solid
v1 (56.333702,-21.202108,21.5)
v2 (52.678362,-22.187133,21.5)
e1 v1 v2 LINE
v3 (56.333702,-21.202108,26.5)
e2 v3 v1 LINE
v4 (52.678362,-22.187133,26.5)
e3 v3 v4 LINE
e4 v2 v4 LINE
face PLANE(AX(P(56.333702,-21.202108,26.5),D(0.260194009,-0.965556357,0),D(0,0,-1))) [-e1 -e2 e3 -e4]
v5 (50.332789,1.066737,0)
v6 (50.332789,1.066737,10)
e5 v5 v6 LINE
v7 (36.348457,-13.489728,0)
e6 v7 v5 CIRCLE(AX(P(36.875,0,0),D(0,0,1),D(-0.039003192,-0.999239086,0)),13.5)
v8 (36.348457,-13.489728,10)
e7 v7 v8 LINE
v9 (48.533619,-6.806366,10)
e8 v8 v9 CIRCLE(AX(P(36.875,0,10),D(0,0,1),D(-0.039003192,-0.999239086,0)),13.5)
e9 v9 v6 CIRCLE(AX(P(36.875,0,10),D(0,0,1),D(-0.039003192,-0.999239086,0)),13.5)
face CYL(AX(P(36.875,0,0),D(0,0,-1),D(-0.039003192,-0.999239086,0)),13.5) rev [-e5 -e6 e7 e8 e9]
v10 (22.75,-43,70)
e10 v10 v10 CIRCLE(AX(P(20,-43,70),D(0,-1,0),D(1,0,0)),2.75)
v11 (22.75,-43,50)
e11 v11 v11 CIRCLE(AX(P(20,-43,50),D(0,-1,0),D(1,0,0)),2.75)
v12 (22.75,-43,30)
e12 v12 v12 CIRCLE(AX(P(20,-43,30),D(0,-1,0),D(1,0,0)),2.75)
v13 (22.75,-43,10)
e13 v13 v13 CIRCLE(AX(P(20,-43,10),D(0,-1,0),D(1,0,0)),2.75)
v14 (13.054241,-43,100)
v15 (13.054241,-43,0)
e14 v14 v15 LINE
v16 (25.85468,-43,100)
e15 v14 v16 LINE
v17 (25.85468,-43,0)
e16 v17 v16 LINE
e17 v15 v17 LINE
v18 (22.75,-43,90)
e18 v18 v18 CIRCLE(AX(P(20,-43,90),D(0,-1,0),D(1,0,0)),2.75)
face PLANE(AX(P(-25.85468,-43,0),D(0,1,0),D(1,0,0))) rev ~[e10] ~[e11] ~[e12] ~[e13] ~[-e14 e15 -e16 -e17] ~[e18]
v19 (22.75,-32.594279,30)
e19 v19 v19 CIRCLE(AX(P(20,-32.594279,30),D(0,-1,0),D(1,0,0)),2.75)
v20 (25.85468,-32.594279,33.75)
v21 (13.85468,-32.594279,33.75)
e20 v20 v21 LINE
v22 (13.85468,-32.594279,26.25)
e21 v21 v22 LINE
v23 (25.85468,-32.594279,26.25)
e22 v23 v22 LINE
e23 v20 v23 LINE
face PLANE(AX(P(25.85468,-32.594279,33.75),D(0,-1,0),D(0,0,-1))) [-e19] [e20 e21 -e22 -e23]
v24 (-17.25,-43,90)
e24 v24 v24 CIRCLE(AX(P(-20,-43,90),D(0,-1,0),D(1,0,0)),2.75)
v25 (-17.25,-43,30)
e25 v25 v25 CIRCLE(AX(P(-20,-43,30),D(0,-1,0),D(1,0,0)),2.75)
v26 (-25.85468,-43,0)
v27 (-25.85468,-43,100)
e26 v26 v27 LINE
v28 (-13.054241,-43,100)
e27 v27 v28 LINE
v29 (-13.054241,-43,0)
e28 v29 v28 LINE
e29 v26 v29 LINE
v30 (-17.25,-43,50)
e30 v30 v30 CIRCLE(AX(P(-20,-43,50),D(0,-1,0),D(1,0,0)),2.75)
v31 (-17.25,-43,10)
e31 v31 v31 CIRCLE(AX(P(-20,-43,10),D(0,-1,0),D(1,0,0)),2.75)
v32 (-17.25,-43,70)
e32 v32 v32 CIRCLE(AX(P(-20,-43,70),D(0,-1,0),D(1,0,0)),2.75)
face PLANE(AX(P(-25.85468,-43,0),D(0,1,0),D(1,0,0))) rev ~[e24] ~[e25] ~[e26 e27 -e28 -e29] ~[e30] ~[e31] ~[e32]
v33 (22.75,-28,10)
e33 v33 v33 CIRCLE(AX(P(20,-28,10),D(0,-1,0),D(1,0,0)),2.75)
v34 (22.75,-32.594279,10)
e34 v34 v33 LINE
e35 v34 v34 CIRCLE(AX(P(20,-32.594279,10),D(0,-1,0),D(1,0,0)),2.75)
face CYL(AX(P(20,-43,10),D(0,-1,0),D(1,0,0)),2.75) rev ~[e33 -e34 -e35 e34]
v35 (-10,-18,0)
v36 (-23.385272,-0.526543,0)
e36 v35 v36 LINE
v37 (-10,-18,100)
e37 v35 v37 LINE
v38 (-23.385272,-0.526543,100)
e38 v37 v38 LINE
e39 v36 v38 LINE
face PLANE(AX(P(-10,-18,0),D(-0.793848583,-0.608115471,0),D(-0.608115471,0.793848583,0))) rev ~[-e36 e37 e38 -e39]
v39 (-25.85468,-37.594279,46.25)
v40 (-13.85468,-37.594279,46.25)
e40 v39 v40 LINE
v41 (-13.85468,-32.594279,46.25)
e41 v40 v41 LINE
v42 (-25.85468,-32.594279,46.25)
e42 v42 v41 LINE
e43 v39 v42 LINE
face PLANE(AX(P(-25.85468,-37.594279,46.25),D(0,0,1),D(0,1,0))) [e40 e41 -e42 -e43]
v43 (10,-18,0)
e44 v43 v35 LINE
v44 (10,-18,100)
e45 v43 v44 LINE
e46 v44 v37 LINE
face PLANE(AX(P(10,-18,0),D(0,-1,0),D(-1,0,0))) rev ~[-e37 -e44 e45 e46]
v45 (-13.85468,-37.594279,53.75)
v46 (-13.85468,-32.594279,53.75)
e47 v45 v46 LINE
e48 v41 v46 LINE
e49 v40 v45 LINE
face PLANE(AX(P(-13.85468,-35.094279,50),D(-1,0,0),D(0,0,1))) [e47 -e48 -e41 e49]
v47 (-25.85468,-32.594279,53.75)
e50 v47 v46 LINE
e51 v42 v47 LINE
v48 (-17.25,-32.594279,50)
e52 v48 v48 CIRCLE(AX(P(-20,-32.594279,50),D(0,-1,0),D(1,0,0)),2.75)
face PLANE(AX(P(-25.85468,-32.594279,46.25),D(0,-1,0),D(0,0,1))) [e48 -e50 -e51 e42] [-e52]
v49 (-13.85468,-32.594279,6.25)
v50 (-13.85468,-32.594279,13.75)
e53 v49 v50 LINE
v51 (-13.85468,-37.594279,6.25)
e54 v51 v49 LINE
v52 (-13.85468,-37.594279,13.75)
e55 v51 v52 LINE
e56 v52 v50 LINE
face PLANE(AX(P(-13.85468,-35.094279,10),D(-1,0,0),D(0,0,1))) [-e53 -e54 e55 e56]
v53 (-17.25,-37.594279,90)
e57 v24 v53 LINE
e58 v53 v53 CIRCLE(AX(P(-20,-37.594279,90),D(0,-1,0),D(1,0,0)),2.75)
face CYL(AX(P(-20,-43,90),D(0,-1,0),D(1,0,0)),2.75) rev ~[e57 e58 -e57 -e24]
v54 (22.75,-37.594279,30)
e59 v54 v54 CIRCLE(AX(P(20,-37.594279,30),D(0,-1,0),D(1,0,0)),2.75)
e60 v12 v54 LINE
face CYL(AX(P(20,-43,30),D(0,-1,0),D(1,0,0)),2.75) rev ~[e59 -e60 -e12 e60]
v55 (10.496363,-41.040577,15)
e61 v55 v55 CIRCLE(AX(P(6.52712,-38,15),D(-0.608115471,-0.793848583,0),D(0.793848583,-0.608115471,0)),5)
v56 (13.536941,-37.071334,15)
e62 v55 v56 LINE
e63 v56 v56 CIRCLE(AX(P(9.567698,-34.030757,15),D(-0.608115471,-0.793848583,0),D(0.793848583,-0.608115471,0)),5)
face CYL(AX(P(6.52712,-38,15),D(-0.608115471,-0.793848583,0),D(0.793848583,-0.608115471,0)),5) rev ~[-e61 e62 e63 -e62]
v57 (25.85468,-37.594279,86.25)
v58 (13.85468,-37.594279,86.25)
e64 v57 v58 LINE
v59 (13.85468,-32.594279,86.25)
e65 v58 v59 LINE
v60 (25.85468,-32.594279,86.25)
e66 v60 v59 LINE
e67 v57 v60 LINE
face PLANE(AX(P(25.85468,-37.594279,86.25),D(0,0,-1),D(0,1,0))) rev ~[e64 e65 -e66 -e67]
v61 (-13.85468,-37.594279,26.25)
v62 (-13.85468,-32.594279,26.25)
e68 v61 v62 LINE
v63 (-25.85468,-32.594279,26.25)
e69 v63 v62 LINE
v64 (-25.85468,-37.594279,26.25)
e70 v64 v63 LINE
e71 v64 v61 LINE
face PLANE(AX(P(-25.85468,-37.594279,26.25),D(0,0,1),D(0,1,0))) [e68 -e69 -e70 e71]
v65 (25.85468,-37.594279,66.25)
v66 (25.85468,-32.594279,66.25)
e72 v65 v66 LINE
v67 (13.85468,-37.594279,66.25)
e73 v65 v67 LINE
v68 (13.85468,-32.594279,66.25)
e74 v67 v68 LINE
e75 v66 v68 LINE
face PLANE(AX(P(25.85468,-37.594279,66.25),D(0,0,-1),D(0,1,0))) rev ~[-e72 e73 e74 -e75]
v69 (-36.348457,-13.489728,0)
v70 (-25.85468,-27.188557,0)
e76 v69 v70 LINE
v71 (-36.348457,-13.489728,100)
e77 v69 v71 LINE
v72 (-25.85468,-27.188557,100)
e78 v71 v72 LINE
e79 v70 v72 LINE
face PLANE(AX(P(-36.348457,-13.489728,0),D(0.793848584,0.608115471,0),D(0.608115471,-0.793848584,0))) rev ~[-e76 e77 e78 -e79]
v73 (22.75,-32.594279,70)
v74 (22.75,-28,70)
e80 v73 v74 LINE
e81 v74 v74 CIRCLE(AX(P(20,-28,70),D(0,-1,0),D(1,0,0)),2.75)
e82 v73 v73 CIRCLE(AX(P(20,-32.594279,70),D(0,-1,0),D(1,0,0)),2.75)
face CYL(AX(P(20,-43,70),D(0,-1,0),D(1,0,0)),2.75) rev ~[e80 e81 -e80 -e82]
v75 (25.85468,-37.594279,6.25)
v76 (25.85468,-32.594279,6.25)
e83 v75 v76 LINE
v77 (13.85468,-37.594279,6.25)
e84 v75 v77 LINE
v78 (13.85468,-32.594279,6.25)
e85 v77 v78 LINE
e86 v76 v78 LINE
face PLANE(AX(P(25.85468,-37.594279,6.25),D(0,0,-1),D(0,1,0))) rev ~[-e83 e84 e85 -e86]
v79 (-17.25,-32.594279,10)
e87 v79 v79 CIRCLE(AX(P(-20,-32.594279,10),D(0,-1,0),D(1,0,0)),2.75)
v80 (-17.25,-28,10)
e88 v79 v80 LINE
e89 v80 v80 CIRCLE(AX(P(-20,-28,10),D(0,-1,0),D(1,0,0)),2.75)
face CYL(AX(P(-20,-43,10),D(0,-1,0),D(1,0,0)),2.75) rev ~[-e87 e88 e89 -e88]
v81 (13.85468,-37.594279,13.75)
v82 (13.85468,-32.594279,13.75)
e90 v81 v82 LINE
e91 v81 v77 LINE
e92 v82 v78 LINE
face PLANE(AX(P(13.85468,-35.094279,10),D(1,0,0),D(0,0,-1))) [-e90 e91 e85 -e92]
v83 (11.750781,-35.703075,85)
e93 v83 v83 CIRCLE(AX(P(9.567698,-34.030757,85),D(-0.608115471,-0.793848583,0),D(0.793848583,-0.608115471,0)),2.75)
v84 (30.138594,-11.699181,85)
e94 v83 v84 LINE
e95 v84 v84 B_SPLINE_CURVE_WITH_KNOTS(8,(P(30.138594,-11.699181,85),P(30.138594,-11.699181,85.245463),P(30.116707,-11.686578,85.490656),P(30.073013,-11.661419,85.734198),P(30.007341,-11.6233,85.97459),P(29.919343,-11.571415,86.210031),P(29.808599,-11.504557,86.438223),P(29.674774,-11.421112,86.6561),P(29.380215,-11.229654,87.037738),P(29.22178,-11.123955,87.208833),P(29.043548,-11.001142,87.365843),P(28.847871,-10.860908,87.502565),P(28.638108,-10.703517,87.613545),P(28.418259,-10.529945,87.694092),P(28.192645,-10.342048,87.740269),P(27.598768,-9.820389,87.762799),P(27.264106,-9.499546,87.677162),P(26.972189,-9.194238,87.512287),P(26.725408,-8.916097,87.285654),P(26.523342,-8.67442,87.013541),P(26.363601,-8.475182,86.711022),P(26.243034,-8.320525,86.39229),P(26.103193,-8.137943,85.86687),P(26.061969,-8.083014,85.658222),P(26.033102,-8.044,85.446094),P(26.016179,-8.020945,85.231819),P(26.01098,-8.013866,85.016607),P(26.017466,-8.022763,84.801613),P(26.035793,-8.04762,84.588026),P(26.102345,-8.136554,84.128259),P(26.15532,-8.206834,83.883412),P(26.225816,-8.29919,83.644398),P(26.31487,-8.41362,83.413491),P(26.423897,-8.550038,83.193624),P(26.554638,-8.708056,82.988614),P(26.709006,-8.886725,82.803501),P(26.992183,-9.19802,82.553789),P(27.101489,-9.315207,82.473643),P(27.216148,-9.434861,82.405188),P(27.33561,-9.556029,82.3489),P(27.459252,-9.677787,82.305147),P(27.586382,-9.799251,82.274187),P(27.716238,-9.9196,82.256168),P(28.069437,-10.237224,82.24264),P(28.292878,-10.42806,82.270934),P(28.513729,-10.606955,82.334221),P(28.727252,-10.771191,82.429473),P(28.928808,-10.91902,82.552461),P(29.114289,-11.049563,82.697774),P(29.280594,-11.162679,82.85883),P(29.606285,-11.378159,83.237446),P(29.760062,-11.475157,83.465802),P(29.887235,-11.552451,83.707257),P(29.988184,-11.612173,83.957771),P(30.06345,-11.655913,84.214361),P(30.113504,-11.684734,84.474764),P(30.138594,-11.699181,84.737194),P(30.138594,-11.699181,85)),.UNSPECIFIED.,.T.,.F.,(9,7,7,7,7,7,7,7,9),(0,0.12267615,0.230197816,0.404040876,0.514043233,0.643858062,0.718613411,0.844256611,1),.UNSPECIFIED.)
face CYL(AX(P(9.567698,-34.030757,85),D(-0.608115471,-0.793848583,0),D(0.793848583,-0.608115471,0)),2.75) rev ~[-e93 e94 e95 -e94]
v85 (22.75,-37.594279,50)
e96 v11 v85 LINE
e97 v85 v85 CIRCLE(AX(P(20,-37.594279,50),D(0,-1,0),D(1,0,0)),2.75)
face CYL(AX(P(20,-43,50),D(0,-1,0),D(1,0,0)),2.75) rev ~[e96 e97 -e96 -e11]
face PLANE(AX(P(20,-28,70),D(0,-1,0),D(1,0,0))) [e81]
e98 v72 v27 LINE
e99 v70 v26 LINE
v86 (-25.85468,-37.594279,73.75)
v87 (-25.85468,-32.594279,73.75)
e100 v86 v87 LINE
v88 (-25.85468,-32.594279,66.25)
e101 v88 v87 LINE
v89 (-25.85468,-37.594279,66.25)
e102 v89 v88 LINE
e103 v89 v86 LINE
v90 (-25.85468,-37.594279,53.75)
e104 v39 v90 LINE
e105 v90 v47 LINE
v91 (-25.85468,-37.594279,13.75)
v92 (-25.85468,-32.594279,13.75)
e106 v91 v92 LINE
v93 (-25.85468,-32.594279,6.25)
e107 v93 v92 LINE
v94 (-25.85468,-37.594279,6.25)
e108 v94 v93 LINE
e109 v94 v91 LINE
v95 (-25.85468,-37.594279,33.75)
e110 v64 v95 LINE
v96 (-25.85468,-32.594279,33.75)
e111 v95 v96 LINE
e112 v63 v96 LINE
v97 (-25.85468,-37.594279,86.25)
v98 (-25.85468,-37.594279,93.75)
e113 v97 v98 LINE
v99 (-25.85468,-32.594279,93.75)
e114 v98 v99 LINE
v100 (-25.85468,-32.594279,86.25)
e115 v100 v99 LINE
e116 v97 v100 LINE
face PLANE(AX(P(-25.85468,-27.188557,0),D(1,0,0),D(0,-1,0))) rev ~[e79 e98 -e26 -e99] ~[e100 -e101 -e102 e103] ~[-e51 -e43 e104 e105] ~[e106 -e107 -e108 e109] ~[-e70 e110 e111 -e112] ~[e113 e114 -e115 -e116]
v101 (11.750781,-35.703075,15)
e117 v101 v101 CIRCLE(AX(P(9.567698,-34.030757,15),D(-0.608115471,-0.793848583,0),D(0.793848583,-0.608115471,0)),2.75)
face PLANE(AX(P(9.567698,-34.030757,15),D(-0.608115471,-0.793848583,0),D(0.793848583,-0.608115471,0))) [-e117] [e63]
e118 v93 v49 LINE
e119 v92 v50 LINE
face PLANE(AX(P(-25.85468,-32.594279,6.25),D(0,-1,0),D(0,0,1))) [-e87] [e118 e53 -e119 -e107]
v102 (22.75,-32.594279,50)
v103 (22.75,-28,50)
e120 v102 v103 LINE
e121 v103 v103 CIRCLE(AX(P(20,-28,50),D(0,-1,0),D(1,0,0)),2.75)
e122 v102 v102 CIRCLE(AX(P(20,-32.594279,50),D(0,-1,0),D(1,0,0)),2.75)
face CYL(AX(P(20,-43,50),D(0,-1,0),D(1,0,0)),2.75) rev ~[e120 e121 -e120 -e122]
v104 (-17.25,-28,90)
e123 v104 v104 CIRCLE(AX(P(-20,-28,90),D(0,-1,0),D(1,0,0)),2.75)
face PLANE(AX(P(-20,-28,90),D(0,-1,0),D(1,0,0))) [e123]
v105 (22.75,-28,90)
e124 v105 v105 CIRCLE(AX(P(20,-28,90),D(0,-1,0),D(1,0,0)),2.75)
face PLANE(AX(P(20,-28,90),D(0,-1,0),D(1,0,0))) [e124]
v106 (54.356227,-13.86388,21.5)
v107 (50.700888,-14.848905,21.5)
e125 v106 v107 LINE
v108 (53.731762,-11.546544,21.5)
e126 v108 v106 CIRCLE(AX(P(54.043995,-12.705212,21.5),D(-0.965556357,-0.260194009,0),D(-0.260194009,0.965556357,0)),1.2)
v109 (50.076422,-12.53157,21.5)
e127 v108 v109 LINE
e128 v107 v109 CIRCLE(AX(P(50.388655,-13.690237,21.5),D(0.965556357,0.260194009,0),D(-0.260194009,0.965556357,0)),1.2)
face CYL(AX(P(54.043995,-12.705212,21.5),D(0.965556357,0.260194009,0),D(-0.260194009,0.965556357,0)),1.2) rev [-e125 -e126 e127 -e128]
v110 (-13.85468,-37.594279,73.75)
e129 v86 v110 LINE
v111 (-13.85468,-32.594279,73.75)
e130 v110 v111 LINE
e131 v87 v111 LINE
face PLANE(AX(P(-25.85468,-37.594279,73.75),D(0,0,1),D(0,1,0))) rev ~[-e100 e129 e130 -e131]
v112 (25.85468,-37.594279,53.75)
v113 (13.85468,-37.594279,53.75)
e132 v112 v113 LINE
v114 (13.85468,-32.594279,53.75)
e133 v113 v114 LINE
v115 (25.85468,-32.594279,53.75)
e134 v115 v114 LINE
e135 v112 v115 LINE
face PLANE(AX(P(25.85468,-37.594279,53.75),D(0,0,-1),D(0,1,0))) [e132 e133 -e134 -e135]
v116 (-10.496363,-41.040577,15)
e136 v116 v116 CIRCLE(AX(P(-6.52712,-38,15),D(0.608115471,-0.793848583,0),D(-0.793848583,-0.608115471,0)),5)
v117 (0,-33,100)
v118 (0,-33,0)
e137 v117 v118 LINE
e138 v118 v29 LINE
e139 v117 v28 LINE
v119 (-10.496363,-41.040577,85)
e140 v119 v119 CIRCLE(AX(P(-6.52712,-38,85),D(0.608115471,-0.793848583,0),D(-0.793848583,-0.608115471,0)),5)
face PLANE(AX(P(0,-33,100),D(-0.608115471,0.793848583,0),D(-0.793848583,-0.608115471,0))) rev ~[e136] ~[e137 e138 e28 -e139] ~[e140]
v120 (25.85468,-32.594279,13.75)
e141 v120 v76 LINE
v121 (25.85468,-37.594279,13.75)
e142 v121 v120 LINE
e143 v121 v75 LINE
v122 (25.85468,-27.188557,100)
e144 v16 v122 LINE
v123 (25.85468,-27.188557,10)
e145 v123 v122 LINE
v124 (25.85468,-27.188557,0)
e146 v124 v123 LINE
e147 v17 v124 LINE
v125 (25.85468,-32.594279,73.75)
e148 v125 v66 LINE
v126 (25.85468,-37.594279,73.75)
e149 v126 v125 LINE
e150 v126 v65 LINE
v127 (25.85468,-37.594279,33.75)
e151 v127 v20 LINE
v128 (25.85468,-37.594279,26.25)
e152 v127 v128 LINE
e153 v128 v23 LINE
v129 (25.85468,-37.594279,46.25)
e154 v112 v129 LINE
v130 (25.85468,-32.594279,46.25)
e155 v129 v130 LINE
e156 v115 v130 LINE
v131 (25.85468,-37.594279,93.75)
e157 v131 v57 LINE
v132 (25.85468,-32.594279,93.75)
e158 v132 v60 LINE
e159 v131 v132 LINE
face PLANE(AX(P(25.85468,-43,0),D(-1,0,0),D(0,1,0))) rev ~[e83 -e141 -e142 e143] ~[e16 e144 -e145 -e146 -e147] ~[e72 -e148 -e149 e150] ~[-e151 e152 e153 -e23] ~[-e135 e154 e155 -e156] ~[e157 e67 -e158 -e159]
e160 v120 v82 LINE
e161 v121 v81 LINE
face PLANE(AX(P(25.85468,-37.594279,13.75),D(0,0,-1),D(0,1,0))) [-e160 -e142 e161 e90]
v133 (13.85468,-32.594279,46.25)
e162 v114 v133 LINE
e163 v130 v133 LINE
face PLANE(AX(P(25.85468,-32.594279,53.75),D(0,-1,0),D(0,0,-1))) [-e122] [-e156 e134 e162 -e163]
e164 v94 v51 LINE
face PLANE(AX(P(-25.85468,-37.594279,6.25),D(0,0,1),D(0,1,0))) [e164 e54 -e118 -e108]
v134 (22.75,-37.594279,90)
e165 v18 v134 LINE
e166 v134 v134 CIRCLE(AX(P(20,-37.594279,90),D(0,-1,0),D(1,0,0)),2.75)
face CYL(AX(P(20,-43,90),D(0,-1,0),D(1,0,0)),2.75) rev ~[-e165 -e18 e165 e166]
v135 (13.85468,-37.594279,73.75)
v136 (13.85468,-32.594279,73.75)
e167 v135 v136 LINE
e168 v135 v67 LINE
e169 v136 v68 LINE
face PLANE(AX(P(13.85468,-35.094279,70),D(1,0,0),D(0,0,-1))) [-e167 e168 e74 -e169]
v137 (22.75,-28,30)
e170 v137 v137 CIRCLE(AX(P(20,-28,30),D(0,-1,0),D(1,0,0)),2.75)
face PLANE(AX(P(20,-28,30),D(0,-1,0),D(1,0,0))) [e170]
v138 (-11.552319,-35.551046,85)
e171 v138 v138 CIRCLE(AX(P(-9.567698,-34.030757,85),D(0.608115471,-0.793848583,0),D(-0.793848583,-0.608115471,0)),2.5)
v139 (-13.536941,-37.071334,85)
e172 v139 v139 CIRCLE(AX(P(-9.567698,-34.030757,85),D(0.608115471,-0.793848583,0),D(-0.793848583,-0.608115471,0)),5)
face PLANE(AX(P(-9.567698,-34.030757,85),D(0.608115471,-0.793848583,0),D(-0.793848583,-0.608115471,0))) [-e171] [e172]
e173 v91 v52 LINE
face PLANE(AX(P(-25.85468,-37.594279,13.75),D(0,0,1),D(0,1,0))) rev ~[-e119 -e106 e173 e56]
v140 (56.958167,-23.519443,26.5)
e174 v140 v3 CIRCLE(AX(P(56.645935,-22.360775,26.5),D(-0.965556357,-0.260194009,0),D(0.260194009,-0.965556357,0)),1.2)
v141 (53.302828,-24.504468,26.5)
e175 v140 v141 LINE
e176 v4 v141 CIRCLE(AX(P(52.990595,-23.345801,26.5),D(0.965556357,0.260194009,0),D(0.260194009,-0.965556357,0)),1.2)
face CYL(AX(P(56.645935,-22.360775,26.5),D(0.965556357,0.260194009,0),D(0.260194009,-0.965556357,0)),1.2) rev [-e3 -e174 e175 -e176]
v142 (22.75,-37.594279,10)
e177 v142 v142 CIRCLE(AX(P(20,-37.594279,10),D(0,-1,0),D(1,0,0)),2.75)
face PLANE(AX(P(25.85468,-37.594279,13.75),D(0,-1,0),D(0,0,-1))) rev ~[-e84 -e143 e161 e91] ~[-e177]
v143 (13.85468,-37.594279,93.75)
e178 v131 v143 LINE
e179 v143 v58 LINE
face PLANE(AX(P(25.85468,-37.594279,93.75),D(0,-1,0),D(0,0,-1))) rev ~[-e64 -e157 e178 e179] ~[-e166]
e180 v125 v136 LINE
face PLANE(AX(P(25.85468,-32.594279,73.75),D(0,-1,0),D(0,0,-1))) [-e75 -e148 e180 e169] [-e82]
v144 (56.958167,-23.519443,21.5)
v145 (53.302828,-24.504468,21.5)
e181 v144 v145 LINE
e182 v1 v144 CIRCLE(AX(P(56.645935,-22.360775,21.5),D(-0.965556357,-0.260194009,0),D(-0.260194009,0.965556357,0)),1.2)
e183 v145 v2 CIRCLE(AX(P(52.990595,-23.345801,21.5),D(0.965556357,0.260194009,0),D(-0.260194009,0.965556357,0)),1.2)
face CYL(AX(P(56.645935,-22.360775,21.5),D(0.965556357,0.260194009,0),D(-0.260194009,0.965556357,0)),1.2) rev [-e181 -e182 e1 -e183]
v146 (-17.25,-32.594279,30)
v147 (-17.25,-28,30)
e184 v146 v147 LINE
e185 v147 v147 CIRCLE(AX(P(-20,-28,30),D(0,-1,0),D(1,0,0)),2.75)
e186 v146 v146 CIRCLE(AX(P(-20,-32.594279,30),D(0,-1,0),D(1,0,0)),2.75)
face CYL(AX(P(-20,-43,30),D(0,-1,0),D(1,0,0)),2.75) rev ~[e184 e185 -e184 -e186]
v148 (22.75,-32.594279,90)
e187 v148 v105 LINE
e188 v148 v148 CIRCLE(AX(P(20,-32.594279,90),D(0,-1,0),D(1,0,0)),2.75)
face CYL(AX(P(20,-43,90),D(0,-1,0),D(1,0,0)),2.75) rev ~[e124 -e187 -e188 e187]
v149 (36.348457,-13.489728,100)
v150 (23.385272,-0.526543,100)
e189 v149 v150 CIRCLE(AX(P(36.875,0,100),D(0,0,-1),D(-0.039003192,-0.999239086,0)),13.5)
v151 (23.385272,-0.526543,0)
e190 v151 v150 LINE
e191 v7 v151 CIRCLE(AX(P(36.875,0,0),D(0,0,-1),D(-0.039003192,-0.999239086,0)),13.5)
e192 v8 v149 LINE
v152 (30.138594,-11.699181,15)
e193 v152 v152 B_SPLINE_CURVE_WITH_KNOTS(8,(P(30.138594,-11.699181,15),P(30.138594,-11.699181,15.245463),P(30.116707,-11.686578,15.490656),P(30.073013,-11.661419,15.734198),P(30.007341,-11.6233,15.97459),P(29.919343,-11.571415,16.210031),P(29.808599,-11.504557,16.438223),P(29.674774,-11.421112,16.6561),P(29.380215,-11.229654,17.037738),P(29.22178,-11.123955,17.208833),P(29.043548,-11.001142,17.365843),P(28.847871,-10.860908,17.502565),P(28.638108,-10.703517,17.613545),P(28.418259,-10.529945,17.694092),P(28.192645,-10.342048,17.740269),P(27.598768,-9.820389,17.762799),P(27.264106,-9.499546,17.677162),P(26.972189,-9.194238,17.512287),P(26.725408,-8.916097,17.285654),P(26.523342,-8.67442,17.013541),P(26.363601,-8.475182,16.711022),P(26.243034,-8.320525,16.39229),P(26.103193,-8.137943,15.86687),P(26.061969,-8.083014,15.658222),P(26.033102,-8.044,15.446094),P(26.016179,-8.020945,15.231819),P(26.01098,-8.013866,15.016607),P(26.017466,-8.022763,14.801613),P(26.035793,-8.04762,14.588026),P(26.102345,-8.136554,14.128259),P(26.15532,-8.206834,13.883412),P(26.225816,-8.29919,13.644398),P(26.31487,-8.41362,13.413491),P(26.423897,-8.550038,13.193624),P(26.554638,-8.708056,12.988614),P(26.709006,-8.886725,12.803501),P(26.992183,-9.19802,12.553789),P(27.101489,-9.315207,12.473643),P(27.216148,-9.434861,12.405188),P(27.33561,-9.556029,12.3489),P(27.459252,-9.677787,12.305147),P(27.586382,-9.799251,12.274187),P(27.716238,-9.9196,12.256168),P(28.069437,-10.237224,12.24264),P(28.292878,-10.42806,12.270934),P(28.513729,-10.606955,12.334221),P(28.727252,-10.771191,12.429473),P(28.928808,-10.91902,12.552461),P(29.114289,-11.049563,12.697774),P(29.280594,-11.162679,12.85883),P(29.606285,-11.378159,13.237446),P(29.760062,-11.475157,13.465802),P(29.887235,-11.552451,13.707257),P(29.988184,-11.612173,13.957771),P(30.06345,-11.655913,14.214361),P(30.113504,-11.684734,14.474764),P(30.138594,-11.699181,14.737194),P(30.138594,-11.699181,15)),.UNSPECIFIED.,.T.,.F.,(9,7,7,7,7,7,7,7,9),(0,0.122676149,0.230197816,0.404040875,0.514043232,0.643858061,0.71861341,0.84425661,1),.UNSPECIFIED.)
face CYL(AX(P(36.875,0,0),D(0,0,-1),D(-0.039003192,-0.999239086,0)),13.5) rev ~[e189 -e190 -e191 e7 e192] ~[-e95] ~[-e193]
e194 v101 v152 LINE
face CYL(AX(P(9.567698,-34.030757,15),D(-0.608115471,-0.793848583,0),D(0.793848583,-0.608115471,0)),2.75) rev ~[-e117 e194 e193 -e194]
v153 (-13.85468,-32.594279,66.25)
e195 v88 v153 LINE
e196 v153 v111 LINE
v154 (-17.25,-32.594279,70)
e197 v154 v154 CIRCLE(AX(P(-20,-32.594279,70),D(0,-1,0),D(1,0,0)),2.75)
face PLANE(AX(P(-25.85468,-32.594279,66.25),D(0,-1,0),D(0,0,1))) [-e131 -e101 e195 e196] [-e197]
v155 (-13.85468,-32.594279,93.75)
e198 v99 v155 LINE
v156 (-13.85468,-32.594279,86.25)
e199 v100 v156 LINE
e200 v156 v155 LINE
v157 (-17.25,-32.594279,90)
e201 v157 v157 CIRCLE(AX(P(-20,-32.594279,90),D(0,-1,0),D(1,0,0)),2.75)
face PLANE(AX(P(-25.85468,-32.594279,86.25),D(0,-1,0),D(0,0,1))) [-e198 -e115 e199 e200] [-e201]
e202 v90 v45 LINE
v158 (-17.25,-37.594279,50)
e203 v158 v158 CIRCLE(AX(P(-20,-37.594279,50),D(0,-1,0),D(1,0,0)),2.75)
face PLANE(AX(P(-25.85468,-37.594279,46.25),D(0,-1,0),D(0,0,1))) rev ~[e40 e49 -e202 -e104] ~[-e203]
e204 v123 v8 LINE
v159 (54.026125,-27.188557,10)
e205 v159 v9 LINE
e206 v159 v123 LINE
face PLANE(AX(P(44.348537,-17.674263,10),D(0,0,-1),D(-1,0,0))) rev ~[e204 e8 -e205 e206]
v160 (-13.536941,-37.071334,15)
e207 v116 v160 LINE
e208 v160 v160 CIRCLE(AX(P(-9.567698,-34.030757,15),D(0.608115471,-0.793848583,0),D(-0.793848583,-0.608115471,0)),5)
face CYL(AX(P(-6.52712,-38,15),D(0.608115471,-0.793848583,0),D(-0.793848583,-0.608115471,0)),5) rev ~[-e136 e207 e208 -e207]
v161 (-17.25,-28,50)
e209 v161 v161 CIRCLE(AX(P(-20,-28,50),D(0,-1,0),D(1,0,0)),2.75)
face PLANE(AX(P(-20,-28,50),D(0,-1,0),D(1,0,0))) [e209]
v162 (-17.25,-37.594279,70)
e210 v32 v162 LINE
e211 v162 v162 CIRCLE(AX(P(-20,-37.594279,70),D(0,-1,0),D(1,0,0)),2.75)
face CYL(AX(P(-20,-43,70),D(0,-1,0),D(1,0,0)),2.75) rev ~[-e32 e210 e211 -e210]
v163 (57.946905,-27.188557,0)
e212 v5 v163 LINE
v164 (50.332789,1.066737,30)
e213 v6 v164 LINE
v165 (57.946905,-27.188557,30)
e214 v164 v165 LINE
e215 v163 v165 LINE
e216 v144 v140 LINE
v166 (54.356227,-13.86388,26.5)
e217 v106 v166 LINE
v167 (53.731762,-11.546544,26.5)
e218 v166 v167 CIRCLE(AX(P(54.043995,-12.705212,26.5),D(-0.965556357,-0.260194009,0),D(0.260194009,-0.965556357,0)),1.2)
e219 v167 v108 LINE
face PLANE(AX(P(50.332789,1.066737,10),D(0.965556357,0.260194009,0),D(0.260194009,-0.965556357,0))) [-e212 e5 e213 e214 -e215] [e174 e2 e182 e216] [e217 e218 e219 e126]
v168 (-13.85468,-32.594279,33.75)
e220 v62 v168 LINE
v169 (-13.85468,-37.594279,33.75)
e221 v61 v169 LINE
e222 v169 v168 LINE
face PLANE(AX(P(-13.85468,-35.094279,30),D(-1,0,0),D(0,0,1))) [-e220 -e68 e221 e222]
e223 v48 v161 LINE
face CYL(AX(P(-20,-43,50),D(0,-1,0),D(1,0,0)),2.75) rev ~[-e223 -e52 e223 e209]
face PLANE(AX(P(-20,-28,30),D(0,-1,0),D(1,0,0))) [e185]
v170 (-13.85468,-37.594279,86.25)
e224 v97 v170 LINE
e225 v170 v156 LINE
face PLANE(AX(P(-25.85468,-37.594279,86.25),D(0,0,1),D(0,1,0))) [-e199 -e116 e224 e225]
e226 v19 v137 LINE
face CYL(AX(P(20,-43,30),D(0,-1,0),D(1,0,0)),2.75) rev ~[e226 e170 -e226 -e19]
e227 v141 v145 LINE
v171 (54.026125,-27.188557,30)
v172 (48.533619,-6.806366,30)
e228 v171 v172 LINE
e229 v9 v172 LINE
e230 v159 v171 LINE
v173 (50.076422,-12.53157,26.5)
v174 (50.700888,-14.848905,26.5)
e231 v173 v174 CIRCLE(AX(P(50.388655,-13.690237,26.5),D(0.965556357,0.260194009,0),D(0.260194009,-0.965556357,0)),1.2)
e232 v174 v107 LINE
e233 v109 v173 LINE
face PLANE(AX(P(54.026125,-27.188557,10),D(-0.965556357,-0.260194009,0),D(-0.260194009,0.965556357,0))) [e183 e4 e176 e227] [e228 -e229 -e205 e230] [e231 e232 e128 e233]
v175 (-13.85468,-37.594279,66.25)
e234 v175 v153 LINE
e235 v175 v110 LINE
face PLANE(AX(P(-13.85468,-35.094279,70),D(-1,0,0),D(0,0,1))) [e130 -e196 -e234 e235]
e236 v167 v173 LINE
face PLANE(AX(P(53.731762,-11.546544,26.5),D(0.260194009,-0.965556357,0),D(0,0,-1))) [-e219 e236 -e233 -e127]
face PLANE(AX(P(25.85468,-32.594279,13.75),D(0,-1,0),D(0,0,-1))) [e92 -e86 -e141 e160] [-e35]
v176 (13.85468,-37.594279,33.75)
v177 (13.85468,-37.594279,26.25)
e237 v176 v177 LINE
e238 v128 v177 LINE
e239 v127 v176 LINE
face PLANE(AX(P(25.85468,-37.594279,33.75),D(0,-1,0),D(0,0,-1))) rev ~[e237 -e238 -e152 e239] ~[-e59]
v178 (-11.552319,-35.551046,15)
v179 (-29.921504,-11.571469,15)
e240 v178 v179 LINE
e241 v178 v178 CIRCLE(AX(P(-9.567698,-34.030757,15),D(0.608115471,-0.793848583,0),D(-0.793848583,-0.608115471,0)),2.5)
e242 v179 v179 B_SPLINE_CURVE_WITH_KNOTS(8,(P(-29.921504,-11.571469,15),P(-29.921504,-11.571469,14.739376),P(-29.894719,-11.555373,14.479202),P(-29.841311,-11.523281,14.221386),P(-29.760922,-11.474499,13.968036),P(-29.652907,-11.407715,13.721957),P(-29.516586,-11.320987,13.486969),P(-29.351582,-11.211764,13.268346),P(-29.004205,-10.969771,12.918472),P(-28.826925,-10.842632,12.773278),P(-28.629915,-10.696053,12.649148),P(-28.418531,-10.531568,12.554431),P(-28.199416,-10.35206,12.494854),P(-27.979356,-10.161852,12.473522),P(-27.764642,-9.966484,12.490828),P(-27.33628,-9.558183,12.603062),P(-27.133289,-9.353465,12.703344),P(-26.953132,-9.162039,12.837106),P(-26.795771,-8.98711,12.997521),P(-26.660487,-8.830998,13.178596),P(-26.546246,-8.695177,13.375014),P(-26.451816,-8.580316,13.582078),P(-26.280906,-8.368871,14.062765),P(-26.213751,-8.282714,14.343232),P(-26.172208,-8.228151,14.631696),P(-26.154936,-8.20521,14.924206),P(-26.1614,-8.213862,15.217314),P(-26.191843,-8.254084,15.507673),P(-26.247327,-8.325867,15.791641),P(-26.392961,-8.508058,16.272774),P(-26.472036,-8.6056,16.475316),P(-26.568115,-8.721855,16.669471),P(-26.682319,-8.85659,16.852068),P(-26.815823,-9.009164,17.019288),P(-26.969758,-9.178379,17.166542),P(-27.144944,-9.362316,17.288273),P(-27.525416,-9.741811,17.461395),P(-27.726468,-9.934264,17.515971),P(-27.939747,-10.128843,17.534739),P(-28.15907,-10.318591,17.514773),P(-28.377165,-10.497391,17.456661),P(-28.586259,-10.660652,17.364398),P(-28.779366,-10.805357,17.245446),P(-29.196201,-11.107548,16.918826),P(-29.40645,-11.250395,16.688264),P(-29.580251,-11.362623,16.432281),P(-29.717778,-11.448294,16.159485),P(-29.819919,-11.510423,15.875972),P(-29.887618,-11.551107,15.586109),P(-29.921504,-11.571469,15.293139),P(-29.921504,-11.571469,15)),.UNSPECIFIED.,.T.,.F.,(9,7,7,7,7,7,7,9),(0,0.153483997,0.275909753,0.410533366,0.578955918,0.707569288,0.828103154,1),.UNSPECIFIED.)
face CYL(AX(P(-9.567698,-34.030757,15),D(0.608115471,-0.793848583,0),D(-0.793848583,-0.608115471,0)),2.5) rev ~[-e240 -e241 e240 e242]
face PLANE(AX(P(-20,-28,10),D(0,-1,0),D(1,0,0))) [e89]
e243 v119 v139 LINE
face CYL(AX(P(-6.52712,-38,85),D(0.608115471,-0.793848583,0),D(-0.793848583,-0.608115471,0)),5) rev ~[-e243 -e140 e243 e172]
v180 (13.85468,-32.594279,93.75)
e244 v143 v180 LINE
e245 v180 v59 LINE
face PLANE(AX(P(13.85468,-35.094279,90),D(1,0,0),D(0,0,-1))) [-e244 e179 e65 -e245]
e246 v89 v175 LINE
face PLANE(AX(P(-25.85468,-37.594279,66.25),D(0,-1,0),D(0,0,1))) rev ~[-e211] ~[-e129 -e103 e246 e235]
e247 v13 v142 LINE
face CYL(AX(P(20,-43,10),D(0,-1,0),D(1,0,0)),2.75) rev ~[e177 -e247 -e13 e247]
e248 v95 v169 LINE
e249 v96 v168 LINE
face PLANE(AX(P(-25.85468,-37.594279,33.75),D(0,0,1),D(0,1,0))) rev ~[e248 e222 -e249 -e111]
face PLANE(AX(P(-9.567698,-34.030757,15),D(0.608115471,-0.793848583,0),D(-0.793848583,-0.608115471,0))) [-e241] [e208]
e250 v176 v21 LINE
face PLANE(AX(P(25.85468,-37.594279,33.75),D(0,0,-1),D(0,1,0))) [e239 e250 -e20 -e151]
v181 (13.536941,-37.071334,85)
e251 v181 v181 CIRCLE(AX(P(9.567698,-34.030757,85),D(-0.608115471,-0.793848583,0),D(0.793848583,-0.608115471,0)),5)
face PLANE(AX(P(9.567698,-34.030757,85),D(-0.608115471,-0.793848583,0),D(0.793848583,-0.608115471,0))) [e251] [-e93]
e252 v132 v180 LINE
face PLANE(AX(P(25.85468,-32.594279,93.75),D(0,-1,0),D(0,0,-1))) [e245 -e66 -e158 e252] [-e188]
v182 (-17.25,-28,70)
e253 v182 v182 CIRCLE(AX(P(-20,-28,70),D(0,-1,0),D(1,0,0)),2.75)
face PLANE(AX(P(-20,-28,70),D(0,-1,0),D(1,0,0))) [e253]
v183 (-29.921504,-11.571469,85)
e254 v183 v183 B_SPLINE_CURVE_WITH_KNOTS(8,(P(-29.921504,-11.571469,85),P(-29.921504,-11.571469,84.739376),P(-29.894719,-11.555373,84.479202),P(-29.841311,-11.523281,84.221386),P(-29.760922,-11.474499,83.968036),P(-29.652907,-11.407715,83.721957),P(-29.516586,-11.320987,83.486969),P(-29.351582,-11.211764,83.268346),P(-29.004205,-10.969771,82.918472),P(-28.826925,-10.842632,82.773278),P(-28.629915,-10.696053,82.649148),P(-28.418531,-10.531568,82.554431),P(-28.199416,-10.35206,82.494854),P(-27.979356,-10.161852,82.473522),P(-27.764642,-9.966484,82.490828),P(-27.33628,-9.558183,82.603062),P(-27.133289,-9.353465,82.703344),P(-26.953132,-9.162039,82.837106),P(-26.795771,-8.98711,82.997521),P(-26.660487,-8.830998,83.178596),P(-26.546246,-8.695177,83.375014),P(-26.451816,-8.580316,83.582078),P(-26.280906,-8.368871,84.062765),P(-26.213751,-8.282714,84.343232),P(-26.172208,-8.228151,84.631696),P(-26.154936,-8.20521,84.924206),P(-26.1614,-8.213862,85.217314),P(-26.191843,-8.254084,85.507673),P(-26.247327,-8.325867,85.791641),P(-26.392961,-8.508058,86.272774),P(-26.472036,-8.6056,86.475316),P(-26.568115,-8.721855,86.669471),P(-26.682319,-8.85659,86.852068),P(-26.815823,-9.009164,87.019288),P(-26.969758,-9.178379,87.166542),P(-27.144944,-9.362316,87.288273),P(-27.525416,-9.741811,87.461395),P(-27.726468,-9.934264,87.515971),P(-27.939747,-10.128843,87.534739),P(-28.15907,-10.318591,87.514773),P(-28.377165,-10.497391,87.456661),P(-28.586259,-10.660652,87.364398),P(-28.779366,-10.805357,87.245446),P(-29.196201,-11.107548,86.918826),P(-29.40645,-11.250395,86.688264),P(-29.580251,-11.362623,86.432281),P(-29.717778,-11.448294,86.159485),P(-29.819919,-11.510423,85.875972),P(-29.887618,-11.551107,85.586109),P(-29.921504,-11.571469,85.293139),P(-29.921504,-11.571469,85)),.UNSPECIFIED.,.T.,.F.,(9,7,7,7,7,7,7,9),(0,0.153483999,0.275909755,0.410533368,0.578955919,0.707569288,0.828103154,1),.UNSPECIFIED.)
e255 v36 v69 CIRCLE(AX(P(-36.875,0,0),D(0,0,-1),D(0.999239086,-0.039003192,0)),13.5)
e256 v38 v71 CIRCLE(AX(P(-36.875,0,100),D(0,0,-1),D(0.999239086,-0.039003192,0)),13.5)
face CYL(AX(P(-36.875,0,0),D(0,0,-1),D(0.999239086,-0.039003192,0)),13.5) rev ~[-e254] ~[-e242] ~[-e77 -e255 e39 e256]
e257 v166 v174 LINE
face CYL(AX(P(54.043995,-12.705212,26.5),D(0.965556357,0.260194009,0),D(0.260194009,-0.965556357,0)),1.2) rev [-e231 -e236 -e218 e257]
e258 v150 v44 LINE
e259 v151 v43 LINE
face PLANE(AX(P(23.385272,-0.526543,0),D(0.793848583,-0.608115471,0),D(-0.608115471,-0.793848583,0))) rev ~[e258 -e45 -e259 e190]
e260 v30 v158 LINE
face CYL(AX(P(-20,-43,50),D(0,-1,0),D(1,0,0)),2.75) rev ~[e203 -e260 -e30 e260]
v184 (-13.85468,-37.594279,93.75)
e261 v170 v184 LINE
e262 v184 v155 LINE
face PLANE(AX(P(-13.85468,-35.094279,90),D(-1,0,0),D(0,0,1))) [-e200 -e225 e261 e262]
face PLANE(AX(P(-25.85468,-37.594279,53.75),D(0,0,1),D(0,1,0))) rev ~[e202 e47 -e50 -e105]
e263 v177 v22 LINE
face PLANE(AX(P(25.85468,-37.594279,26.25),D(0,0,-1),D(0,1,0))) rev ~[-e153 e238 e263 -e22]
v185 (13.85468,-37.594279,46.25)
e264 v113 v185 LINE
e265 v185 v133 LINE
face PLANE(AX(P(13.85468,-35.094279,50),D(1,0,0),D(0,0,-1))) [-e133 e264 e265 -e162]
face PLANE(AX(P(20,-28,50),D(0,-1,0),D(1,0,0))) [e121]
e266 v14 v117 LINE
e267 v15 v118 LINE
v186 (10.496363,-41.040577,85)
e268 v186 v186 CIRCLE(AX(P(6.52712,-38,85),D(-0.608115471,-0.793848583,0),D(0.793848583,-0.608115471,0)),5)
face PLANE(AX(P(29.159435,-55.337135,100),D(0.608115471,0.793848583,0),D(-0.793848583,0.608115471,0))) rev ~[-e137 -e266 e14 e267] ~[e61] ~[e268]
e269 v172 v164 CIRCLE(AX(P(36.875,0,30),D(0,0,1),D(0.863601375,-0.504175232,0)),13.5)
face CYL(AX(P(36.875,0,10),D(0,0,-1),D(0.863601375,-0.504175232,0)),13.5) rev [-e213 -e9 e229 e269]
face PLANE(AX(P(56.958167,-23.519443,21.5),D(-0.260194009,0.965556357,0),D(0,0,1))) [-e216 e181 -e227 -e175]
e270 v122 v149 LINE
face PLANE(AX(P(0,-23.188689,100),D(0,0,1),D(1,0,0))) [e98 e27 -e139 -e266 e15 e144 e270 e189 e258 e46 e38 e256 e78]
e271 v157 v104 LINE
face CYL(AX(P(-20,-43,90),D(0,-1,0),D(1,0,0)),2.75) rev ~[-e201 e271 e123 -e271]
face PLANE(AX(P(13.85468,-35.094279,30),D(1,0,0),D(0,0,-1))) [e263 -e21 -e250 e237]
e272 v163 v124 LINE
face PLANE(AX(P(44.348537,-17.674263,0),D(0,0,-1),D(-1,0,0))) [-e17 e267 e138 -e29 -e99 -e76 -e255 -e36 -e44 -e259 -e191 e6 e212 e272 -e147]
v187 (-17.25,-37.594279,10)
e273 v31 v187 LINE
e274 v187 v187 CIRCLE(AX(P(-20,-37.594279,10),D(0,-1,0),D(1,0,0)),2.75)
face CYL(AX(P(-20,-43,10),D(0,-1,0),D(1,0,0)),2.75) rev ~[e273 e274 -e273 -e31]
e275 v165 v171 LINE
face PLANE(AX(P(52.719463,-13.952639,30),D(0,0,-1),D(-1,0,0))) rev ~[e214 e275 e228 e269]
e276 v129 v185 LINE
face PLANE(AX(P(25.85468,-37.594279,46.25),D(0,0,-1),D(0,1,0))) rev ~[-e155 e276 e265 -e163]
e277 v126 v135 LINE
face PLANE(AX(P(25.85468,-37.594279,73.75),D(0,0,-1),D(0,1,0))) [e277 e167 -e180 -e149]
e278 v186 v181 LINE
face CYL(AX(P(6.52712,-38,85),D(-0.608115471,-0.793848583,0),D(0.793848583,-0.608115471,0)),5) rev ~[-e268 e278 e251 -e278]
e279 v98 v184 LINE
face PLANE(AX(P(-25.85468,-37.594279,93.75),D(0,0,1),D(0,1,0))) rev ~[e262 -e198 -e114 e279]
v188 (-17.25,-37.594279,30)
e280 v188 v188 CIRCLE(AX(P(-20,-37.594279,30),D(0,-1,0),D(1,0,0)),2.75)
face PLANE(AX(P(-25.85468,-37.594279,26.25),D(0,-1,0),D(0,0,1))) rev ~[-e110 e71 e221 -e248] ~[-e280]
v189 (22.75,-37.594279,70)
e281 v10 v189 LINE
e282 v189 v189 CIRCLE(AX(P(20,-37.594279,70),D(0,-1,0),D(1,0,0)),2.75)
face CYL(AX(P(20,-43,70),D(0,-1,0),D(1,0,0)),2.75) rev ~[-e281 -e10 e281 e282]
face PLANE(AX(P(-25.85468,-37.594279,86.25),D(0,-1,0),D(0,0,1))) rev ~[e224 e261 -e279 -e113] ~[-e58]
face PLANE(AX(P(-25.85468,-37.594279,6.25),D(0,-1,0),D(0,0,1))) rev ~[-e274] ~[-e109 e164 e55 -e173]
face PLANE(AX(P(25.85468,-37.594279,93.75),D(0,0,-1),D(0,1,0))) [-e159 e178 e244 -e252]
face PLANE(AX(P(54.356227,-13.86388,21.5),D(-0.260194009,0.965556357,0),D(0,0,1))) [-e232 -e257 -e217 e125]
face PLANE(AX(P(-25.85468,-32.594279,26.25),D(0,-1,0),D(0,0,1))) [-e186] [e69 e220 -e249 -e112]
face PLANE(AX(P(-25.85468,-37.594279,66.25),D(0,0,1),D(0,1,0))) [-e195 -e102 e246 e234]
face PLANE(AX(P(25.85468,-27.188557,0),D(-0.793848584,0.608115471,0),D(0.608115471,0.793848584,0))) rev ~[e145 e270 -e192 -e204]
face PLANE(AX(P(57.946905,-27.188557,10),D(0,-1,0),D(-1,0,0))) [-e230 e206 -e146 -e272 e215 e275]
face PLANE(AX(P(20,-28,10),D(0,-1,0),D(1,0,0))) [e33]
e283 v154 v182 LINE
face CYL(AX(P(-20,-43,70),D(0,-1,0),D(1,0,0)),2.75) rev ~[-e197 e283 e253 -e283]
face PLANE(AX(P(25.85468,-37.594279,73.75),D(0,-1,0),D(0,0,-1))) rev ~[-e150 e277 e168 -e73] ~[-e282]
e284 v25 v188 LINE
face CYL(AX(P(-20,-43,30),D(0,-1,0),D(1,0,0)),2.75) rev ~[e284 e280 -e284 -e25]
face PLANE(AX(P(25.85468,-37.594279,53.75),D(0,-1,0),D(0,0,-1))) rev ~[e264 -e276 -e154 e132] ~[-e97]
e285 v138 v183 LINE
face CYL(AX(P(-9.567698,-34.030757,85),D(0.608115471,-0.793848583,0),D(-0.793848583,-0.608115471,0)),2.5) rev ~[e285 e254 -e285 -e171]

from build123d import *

# Parameters (mm, degrees)
SALIENTE_EXTRUIR1_DEPTH = 100
CORTAR_EXTRUIR2_DEPTH   = 101
CROQUIS4_R              = 5
CORTAR_EXTRUIR3_DEPTH   = 5
CROQUIS5_R              = 2.5
CORTAR_EXTRUIR4_DEPTH   = 55
CROQUIS6_R              = 5
CORTAR_EXTRUIR5_DEPTH   = 5
CROQUIS7_R              = 2.75
CORTAR_EXTRUIR6_DEPTH   = 55
CROQUIS8_R              = 2.75
CORTAR_EXTRUIR7_DEPTH   = 15
CROQUIS9_W              = 7.5
CROQUIS9_H              = 5
CORTAR_EXTRUIR8_DEPTH   = 12
CROQUIS10_W             = 7.5
CROQUIS10_H             = 5
CORTAR_EXTRUIR9_DEPTH   = 12
SALIENTE_EXTRUIR2_DEPTH = 10
SALIENTE_EXTRUIR3_DEPTH = 20
CORTAR_EXTRUIR10_DEPTH  = 10


with BuildPart() as part:
    # Croquis1 → Saliente-Extruir1 (new body)
    with BuildSketch(Plane.XY):
        with BuildLine():
            Line((-25.854679659, -27.188557242), (-25.854679659, -43))
            Line((-25.854679659, -43), (25.854679659, -43))
            Line((25.854679659, -43), (25.854679659, -27.188557242))
            Line((25.854679659, -27.188557242), (36.348456911, -13.489727661))
            ThreePointArc((36.348456911, -13.489727661), (27.329058454, -9.545941546), (23.385272339, -0.526543089))
            Line((23.385272339, -0.526543089), (10, -18))
            Line((10, -18), (-10, -18))
            Line((-10, -18), (-23.385272339, -0.526543089))
            ThreePointArc((-23.385272339, -0.526543089), (-27.329058454, -9.545941546), (-36.348456911, -13.489727661))
            Line((-36.348456911, -13.489727661), (-25.854679659, -27.188557242))
        make_face()
    extrude(amount=SALIENTE_EXTRUIR1_DEPTH)

    # Croquis3 → Cortar-Extruir2 (cut, through all)
    with BuildSketch(Plane.XY.offset(100)):
        Polygon((0, -33), (-29.159434589, -55.337135416), (29.159434589, -55.337135416), align=None)
    extrude(amount=-CORTAR_EXTRUIR2_DEPTH, mode=Mode.SUBTRACT)

    # Croquis4 → Cortar-Extruir3 (cut)
    with BuildSketch(Plane(origin=(15.930802982, -20.796453926, 0), x_dir=(-0.793848583, -0.608115471, 0), z_dir=(0.608115471, -0.793848583, 0))):
        with Locations((28.28993322, -85)):
            Circle(CROQUIS4_R)
        with Locations((28.28993322, -15)):
            Circle(CROQUIS4_R)
    extrude(amount=-CORTAR_EXTRUIR3_DEPTH, mode=Mode.SUBTRACT)

    # Croquis5 → Cortar-Extruir4 (cut)
    with BuildSketch(Plane(origin=(12.890225626, -16.827211008, 0), x_dir=(-0.793848583, -0.608115471, 0), z_dir=(0.608115471, -0.793848583, 0))):
        with Locations((28.28993322, -85)):
            Circle(CROQUIS5_R)
        with Locations((28.28993322, -15)):
            Circle(CROQUIS5_R)
    extrude(amount=-CORTAR_EXTRUIR4_DEPTH, mode=Mode.SUBTRACT)

    # Croquis6 → Cortar-Extruir5 (cut)
    with BuildSketch(Plane(origin=(-15.930802982, -20.796453926, 0), x_dir=(0.793848583, -0.608115471, 0), z_dir=(-0.608115471, -0.793848583, 0))):
        with Locations((28.28993322, 85)):
            Circle(CROQUIS6_R)
        with Locations((28.28993322, 15)):
            Circle(CROQUIS6_R)
    extrude(amount=-CORTAR_EXTRUIR5_DEPTH, mode=Mode.SUBTRACT)

    # Croquis7 → Cortar-Extruir6 (cut)
    with BuildSketch(Plane(origin=(-12.890225626, -16.827211008, 0), x_dir=(0.793848583, -0.608115471, 0), z_dir=(-0.608115471, -0.793848583, 0))):
        with Locations((28.28993322, 85)):
            Circle(CROQUIS7_R)
        with Locations((28.28993322, 15)):
            Circle(CROQUIS7_R)
    extrude(amount=-CORTAR_EXTRUIR6_DEPTH, mode=Mode.SUBTRACT)

    # Croquis8 → Cortar-Extruir7 (cut)
    with BuildSketch(Plane.XZ.offset(43)):
        with Locations((-20, 90)):
            Circle(CROQUIS8_R)
        with Locations((20, 90)):
            Circle(CROQUIS8_R)
        with Locations((20, 70)):
            Circle(CROQUIS8_R)
        with Locations((-20, 70)):
            Circle(CROQUIS8_R)
        with Locations((20, 50)):
            Circle(CROQUIS8_R)
        with Locations((-20, 50)):
            Circle(CROQUIS8_R)
        with Locations((20, 30)):
            Circle(CROQUIS8_R)
        with Locations((-20, 30)):
            Circle(CROQUIS8_R)
        with Locations((20, 10)):
            Circle(CROQUIS8_R)
        with Locations((-20, 10)):
            Circle(CROQUIS8_R)
    extrude(amount=-CORTAR_EXTRUIR7_DEPTH, mode=Mode.SUBTRACT)

    # Croquis9 → Cortar-Extruir8 (cut)
    with BuildSketch(Plane(origin=(25.854679659, 0, 0), x_dir=(0, 0, -1), z_dir=(1, 0, 0))):
        with Locations((-90, -35.094278621)):
            Rectangle(CROQUIS9_W, CROQUIS9_H)
        with Locations((-70, -35.094278621)):
            Rectangle(CROQUIS9_W, CROQUIS9_H)
        with Locations((-50, -35.094278621)):
            Rectangle(CROQUIS9_W, CROQUIS9_H)
        with Locations((-30, -35.094278621)):
            Rectangle(CROQUIS9_W, CROQUIS9_H)
        with Locations((-10, -35.094278621)):
            Rectangle(CROQUIS9_W, CROQUIS9_H)
    extrude(amount=-CORTAR_EXTRUIR8_DEPTH, mode=Mode.SUBTRACT)

    # Croquis10 → Cortar-Extruir9 (cut)
    with BuildSketch(Plane.ZY.offset(25.854679659)):
        with Locations((90, -35.094278621)):
            Rectangle(CROQUIS10_W, CROQUIS10_H)
        with Locations((70, -35.094278621)):
            Rectangle(CROQUIS10_W, CROQUIS10_H)
        with Locations((50, -35.094278621)):
            Rectangle(CROQUIS10_W, CROQUIS10_H)
        with Locations((30, -35.094278621)):
            Rectangle(CROQUIS10_W, CROQUIS10_H)
        with Locations((10, -35.094278621)):
            Rectangle(CROQUIS10_W, CROQUIS10_H)
    extrude(amount=-CORTAR_EXTRUIR9_DEPTH, mode=Mode.SUBTRACT)

    # Croquis11 → Saliente-Extruir2 (add)
    with BuildSketch(Plane(origin=(0, 0, 0), x_dir=(-1, 0, 0), z_dir=(0, 0, -1))):
        with BuildLine():
            Line((-50.332788561, 1.06673664), (-57.946904644, -27.188557242))
            Line((-57.946904644, -27.188557242), (-25.854679659, -27.188557242))
            Line((-25.854679659, -27.188557242), (-36.348456911, -13.489727661))
            ThreePointArc((-36.348456911, -13.489727661), (-46.610344914, -9.35270332), (-50.332788561, 1.06673664))
        make_face()
    extrude(amount=-SALIENTE_EXTRUIR2_DEPTH)

    # Croquis12 → Saliente-Extruir3 (add)
    with BuildSketch(Plane.XY.offset(10)):
        with BuildLine():
            Line((54.026124626, -27.188557242), (48.533618564, -6.806365636))
            ThreePointArc((48.533618564, -6.806365636), (50.035733702, -3.007505349), (50.332788561, 1.06673664))
            Line((50.332788561, 1.06673664), (57.946904644, -27.188557242))
            Line((57.946904644, -27.188557242), (54.026124626, -27.188557242))
        make_face()
    extrude(amount=SALIENTE_EXTRUIR3_DEPTH)

    # Croquis13 → Cortar-Extruir10 (cut)
    with BuildSketch(Plane(origin=(47.193210715, 12.717425139, 0), x_dir=(0, 0, -1), z_dir=(0.965556357, 0.260194009, 0))):
        with BuildLine():
            Line((-26.5, -35.129521687), (-21.5, -35.129521687))
            ThreePointArc((-21.5, -35.129521687), (-20.3, -36.329521687), (-21.5, -37.529521687))
            Line((-21.5, -37.529521687), (-26.5, -37.529521687))
            ThreePointArc((-26.5, -37.529521687), (-27.7, -36.329521687), (-26.5, -35.129521687))
        make_face()
        with BuildLine():
            Line((-26.5, -25.129521687), (-21.5, -25.129521687))
            ThreePointArc((-21.5, -25.129521687), (-20.3, -26.329521687), (-21.5, -27.529521687))
            Line((-21.5, -27.529521687), (-26.5, -27.529521687))
            ThreePointArc((-26.5, -27.529521687), (-27.7, -26.329521687), (-26.5, -25.129521687))
        make_face()
    extrude(amount=-CORTAR_EXTRUIR10_DEPTH, mode=Mode.SUBTRACT)


solid = part.part
